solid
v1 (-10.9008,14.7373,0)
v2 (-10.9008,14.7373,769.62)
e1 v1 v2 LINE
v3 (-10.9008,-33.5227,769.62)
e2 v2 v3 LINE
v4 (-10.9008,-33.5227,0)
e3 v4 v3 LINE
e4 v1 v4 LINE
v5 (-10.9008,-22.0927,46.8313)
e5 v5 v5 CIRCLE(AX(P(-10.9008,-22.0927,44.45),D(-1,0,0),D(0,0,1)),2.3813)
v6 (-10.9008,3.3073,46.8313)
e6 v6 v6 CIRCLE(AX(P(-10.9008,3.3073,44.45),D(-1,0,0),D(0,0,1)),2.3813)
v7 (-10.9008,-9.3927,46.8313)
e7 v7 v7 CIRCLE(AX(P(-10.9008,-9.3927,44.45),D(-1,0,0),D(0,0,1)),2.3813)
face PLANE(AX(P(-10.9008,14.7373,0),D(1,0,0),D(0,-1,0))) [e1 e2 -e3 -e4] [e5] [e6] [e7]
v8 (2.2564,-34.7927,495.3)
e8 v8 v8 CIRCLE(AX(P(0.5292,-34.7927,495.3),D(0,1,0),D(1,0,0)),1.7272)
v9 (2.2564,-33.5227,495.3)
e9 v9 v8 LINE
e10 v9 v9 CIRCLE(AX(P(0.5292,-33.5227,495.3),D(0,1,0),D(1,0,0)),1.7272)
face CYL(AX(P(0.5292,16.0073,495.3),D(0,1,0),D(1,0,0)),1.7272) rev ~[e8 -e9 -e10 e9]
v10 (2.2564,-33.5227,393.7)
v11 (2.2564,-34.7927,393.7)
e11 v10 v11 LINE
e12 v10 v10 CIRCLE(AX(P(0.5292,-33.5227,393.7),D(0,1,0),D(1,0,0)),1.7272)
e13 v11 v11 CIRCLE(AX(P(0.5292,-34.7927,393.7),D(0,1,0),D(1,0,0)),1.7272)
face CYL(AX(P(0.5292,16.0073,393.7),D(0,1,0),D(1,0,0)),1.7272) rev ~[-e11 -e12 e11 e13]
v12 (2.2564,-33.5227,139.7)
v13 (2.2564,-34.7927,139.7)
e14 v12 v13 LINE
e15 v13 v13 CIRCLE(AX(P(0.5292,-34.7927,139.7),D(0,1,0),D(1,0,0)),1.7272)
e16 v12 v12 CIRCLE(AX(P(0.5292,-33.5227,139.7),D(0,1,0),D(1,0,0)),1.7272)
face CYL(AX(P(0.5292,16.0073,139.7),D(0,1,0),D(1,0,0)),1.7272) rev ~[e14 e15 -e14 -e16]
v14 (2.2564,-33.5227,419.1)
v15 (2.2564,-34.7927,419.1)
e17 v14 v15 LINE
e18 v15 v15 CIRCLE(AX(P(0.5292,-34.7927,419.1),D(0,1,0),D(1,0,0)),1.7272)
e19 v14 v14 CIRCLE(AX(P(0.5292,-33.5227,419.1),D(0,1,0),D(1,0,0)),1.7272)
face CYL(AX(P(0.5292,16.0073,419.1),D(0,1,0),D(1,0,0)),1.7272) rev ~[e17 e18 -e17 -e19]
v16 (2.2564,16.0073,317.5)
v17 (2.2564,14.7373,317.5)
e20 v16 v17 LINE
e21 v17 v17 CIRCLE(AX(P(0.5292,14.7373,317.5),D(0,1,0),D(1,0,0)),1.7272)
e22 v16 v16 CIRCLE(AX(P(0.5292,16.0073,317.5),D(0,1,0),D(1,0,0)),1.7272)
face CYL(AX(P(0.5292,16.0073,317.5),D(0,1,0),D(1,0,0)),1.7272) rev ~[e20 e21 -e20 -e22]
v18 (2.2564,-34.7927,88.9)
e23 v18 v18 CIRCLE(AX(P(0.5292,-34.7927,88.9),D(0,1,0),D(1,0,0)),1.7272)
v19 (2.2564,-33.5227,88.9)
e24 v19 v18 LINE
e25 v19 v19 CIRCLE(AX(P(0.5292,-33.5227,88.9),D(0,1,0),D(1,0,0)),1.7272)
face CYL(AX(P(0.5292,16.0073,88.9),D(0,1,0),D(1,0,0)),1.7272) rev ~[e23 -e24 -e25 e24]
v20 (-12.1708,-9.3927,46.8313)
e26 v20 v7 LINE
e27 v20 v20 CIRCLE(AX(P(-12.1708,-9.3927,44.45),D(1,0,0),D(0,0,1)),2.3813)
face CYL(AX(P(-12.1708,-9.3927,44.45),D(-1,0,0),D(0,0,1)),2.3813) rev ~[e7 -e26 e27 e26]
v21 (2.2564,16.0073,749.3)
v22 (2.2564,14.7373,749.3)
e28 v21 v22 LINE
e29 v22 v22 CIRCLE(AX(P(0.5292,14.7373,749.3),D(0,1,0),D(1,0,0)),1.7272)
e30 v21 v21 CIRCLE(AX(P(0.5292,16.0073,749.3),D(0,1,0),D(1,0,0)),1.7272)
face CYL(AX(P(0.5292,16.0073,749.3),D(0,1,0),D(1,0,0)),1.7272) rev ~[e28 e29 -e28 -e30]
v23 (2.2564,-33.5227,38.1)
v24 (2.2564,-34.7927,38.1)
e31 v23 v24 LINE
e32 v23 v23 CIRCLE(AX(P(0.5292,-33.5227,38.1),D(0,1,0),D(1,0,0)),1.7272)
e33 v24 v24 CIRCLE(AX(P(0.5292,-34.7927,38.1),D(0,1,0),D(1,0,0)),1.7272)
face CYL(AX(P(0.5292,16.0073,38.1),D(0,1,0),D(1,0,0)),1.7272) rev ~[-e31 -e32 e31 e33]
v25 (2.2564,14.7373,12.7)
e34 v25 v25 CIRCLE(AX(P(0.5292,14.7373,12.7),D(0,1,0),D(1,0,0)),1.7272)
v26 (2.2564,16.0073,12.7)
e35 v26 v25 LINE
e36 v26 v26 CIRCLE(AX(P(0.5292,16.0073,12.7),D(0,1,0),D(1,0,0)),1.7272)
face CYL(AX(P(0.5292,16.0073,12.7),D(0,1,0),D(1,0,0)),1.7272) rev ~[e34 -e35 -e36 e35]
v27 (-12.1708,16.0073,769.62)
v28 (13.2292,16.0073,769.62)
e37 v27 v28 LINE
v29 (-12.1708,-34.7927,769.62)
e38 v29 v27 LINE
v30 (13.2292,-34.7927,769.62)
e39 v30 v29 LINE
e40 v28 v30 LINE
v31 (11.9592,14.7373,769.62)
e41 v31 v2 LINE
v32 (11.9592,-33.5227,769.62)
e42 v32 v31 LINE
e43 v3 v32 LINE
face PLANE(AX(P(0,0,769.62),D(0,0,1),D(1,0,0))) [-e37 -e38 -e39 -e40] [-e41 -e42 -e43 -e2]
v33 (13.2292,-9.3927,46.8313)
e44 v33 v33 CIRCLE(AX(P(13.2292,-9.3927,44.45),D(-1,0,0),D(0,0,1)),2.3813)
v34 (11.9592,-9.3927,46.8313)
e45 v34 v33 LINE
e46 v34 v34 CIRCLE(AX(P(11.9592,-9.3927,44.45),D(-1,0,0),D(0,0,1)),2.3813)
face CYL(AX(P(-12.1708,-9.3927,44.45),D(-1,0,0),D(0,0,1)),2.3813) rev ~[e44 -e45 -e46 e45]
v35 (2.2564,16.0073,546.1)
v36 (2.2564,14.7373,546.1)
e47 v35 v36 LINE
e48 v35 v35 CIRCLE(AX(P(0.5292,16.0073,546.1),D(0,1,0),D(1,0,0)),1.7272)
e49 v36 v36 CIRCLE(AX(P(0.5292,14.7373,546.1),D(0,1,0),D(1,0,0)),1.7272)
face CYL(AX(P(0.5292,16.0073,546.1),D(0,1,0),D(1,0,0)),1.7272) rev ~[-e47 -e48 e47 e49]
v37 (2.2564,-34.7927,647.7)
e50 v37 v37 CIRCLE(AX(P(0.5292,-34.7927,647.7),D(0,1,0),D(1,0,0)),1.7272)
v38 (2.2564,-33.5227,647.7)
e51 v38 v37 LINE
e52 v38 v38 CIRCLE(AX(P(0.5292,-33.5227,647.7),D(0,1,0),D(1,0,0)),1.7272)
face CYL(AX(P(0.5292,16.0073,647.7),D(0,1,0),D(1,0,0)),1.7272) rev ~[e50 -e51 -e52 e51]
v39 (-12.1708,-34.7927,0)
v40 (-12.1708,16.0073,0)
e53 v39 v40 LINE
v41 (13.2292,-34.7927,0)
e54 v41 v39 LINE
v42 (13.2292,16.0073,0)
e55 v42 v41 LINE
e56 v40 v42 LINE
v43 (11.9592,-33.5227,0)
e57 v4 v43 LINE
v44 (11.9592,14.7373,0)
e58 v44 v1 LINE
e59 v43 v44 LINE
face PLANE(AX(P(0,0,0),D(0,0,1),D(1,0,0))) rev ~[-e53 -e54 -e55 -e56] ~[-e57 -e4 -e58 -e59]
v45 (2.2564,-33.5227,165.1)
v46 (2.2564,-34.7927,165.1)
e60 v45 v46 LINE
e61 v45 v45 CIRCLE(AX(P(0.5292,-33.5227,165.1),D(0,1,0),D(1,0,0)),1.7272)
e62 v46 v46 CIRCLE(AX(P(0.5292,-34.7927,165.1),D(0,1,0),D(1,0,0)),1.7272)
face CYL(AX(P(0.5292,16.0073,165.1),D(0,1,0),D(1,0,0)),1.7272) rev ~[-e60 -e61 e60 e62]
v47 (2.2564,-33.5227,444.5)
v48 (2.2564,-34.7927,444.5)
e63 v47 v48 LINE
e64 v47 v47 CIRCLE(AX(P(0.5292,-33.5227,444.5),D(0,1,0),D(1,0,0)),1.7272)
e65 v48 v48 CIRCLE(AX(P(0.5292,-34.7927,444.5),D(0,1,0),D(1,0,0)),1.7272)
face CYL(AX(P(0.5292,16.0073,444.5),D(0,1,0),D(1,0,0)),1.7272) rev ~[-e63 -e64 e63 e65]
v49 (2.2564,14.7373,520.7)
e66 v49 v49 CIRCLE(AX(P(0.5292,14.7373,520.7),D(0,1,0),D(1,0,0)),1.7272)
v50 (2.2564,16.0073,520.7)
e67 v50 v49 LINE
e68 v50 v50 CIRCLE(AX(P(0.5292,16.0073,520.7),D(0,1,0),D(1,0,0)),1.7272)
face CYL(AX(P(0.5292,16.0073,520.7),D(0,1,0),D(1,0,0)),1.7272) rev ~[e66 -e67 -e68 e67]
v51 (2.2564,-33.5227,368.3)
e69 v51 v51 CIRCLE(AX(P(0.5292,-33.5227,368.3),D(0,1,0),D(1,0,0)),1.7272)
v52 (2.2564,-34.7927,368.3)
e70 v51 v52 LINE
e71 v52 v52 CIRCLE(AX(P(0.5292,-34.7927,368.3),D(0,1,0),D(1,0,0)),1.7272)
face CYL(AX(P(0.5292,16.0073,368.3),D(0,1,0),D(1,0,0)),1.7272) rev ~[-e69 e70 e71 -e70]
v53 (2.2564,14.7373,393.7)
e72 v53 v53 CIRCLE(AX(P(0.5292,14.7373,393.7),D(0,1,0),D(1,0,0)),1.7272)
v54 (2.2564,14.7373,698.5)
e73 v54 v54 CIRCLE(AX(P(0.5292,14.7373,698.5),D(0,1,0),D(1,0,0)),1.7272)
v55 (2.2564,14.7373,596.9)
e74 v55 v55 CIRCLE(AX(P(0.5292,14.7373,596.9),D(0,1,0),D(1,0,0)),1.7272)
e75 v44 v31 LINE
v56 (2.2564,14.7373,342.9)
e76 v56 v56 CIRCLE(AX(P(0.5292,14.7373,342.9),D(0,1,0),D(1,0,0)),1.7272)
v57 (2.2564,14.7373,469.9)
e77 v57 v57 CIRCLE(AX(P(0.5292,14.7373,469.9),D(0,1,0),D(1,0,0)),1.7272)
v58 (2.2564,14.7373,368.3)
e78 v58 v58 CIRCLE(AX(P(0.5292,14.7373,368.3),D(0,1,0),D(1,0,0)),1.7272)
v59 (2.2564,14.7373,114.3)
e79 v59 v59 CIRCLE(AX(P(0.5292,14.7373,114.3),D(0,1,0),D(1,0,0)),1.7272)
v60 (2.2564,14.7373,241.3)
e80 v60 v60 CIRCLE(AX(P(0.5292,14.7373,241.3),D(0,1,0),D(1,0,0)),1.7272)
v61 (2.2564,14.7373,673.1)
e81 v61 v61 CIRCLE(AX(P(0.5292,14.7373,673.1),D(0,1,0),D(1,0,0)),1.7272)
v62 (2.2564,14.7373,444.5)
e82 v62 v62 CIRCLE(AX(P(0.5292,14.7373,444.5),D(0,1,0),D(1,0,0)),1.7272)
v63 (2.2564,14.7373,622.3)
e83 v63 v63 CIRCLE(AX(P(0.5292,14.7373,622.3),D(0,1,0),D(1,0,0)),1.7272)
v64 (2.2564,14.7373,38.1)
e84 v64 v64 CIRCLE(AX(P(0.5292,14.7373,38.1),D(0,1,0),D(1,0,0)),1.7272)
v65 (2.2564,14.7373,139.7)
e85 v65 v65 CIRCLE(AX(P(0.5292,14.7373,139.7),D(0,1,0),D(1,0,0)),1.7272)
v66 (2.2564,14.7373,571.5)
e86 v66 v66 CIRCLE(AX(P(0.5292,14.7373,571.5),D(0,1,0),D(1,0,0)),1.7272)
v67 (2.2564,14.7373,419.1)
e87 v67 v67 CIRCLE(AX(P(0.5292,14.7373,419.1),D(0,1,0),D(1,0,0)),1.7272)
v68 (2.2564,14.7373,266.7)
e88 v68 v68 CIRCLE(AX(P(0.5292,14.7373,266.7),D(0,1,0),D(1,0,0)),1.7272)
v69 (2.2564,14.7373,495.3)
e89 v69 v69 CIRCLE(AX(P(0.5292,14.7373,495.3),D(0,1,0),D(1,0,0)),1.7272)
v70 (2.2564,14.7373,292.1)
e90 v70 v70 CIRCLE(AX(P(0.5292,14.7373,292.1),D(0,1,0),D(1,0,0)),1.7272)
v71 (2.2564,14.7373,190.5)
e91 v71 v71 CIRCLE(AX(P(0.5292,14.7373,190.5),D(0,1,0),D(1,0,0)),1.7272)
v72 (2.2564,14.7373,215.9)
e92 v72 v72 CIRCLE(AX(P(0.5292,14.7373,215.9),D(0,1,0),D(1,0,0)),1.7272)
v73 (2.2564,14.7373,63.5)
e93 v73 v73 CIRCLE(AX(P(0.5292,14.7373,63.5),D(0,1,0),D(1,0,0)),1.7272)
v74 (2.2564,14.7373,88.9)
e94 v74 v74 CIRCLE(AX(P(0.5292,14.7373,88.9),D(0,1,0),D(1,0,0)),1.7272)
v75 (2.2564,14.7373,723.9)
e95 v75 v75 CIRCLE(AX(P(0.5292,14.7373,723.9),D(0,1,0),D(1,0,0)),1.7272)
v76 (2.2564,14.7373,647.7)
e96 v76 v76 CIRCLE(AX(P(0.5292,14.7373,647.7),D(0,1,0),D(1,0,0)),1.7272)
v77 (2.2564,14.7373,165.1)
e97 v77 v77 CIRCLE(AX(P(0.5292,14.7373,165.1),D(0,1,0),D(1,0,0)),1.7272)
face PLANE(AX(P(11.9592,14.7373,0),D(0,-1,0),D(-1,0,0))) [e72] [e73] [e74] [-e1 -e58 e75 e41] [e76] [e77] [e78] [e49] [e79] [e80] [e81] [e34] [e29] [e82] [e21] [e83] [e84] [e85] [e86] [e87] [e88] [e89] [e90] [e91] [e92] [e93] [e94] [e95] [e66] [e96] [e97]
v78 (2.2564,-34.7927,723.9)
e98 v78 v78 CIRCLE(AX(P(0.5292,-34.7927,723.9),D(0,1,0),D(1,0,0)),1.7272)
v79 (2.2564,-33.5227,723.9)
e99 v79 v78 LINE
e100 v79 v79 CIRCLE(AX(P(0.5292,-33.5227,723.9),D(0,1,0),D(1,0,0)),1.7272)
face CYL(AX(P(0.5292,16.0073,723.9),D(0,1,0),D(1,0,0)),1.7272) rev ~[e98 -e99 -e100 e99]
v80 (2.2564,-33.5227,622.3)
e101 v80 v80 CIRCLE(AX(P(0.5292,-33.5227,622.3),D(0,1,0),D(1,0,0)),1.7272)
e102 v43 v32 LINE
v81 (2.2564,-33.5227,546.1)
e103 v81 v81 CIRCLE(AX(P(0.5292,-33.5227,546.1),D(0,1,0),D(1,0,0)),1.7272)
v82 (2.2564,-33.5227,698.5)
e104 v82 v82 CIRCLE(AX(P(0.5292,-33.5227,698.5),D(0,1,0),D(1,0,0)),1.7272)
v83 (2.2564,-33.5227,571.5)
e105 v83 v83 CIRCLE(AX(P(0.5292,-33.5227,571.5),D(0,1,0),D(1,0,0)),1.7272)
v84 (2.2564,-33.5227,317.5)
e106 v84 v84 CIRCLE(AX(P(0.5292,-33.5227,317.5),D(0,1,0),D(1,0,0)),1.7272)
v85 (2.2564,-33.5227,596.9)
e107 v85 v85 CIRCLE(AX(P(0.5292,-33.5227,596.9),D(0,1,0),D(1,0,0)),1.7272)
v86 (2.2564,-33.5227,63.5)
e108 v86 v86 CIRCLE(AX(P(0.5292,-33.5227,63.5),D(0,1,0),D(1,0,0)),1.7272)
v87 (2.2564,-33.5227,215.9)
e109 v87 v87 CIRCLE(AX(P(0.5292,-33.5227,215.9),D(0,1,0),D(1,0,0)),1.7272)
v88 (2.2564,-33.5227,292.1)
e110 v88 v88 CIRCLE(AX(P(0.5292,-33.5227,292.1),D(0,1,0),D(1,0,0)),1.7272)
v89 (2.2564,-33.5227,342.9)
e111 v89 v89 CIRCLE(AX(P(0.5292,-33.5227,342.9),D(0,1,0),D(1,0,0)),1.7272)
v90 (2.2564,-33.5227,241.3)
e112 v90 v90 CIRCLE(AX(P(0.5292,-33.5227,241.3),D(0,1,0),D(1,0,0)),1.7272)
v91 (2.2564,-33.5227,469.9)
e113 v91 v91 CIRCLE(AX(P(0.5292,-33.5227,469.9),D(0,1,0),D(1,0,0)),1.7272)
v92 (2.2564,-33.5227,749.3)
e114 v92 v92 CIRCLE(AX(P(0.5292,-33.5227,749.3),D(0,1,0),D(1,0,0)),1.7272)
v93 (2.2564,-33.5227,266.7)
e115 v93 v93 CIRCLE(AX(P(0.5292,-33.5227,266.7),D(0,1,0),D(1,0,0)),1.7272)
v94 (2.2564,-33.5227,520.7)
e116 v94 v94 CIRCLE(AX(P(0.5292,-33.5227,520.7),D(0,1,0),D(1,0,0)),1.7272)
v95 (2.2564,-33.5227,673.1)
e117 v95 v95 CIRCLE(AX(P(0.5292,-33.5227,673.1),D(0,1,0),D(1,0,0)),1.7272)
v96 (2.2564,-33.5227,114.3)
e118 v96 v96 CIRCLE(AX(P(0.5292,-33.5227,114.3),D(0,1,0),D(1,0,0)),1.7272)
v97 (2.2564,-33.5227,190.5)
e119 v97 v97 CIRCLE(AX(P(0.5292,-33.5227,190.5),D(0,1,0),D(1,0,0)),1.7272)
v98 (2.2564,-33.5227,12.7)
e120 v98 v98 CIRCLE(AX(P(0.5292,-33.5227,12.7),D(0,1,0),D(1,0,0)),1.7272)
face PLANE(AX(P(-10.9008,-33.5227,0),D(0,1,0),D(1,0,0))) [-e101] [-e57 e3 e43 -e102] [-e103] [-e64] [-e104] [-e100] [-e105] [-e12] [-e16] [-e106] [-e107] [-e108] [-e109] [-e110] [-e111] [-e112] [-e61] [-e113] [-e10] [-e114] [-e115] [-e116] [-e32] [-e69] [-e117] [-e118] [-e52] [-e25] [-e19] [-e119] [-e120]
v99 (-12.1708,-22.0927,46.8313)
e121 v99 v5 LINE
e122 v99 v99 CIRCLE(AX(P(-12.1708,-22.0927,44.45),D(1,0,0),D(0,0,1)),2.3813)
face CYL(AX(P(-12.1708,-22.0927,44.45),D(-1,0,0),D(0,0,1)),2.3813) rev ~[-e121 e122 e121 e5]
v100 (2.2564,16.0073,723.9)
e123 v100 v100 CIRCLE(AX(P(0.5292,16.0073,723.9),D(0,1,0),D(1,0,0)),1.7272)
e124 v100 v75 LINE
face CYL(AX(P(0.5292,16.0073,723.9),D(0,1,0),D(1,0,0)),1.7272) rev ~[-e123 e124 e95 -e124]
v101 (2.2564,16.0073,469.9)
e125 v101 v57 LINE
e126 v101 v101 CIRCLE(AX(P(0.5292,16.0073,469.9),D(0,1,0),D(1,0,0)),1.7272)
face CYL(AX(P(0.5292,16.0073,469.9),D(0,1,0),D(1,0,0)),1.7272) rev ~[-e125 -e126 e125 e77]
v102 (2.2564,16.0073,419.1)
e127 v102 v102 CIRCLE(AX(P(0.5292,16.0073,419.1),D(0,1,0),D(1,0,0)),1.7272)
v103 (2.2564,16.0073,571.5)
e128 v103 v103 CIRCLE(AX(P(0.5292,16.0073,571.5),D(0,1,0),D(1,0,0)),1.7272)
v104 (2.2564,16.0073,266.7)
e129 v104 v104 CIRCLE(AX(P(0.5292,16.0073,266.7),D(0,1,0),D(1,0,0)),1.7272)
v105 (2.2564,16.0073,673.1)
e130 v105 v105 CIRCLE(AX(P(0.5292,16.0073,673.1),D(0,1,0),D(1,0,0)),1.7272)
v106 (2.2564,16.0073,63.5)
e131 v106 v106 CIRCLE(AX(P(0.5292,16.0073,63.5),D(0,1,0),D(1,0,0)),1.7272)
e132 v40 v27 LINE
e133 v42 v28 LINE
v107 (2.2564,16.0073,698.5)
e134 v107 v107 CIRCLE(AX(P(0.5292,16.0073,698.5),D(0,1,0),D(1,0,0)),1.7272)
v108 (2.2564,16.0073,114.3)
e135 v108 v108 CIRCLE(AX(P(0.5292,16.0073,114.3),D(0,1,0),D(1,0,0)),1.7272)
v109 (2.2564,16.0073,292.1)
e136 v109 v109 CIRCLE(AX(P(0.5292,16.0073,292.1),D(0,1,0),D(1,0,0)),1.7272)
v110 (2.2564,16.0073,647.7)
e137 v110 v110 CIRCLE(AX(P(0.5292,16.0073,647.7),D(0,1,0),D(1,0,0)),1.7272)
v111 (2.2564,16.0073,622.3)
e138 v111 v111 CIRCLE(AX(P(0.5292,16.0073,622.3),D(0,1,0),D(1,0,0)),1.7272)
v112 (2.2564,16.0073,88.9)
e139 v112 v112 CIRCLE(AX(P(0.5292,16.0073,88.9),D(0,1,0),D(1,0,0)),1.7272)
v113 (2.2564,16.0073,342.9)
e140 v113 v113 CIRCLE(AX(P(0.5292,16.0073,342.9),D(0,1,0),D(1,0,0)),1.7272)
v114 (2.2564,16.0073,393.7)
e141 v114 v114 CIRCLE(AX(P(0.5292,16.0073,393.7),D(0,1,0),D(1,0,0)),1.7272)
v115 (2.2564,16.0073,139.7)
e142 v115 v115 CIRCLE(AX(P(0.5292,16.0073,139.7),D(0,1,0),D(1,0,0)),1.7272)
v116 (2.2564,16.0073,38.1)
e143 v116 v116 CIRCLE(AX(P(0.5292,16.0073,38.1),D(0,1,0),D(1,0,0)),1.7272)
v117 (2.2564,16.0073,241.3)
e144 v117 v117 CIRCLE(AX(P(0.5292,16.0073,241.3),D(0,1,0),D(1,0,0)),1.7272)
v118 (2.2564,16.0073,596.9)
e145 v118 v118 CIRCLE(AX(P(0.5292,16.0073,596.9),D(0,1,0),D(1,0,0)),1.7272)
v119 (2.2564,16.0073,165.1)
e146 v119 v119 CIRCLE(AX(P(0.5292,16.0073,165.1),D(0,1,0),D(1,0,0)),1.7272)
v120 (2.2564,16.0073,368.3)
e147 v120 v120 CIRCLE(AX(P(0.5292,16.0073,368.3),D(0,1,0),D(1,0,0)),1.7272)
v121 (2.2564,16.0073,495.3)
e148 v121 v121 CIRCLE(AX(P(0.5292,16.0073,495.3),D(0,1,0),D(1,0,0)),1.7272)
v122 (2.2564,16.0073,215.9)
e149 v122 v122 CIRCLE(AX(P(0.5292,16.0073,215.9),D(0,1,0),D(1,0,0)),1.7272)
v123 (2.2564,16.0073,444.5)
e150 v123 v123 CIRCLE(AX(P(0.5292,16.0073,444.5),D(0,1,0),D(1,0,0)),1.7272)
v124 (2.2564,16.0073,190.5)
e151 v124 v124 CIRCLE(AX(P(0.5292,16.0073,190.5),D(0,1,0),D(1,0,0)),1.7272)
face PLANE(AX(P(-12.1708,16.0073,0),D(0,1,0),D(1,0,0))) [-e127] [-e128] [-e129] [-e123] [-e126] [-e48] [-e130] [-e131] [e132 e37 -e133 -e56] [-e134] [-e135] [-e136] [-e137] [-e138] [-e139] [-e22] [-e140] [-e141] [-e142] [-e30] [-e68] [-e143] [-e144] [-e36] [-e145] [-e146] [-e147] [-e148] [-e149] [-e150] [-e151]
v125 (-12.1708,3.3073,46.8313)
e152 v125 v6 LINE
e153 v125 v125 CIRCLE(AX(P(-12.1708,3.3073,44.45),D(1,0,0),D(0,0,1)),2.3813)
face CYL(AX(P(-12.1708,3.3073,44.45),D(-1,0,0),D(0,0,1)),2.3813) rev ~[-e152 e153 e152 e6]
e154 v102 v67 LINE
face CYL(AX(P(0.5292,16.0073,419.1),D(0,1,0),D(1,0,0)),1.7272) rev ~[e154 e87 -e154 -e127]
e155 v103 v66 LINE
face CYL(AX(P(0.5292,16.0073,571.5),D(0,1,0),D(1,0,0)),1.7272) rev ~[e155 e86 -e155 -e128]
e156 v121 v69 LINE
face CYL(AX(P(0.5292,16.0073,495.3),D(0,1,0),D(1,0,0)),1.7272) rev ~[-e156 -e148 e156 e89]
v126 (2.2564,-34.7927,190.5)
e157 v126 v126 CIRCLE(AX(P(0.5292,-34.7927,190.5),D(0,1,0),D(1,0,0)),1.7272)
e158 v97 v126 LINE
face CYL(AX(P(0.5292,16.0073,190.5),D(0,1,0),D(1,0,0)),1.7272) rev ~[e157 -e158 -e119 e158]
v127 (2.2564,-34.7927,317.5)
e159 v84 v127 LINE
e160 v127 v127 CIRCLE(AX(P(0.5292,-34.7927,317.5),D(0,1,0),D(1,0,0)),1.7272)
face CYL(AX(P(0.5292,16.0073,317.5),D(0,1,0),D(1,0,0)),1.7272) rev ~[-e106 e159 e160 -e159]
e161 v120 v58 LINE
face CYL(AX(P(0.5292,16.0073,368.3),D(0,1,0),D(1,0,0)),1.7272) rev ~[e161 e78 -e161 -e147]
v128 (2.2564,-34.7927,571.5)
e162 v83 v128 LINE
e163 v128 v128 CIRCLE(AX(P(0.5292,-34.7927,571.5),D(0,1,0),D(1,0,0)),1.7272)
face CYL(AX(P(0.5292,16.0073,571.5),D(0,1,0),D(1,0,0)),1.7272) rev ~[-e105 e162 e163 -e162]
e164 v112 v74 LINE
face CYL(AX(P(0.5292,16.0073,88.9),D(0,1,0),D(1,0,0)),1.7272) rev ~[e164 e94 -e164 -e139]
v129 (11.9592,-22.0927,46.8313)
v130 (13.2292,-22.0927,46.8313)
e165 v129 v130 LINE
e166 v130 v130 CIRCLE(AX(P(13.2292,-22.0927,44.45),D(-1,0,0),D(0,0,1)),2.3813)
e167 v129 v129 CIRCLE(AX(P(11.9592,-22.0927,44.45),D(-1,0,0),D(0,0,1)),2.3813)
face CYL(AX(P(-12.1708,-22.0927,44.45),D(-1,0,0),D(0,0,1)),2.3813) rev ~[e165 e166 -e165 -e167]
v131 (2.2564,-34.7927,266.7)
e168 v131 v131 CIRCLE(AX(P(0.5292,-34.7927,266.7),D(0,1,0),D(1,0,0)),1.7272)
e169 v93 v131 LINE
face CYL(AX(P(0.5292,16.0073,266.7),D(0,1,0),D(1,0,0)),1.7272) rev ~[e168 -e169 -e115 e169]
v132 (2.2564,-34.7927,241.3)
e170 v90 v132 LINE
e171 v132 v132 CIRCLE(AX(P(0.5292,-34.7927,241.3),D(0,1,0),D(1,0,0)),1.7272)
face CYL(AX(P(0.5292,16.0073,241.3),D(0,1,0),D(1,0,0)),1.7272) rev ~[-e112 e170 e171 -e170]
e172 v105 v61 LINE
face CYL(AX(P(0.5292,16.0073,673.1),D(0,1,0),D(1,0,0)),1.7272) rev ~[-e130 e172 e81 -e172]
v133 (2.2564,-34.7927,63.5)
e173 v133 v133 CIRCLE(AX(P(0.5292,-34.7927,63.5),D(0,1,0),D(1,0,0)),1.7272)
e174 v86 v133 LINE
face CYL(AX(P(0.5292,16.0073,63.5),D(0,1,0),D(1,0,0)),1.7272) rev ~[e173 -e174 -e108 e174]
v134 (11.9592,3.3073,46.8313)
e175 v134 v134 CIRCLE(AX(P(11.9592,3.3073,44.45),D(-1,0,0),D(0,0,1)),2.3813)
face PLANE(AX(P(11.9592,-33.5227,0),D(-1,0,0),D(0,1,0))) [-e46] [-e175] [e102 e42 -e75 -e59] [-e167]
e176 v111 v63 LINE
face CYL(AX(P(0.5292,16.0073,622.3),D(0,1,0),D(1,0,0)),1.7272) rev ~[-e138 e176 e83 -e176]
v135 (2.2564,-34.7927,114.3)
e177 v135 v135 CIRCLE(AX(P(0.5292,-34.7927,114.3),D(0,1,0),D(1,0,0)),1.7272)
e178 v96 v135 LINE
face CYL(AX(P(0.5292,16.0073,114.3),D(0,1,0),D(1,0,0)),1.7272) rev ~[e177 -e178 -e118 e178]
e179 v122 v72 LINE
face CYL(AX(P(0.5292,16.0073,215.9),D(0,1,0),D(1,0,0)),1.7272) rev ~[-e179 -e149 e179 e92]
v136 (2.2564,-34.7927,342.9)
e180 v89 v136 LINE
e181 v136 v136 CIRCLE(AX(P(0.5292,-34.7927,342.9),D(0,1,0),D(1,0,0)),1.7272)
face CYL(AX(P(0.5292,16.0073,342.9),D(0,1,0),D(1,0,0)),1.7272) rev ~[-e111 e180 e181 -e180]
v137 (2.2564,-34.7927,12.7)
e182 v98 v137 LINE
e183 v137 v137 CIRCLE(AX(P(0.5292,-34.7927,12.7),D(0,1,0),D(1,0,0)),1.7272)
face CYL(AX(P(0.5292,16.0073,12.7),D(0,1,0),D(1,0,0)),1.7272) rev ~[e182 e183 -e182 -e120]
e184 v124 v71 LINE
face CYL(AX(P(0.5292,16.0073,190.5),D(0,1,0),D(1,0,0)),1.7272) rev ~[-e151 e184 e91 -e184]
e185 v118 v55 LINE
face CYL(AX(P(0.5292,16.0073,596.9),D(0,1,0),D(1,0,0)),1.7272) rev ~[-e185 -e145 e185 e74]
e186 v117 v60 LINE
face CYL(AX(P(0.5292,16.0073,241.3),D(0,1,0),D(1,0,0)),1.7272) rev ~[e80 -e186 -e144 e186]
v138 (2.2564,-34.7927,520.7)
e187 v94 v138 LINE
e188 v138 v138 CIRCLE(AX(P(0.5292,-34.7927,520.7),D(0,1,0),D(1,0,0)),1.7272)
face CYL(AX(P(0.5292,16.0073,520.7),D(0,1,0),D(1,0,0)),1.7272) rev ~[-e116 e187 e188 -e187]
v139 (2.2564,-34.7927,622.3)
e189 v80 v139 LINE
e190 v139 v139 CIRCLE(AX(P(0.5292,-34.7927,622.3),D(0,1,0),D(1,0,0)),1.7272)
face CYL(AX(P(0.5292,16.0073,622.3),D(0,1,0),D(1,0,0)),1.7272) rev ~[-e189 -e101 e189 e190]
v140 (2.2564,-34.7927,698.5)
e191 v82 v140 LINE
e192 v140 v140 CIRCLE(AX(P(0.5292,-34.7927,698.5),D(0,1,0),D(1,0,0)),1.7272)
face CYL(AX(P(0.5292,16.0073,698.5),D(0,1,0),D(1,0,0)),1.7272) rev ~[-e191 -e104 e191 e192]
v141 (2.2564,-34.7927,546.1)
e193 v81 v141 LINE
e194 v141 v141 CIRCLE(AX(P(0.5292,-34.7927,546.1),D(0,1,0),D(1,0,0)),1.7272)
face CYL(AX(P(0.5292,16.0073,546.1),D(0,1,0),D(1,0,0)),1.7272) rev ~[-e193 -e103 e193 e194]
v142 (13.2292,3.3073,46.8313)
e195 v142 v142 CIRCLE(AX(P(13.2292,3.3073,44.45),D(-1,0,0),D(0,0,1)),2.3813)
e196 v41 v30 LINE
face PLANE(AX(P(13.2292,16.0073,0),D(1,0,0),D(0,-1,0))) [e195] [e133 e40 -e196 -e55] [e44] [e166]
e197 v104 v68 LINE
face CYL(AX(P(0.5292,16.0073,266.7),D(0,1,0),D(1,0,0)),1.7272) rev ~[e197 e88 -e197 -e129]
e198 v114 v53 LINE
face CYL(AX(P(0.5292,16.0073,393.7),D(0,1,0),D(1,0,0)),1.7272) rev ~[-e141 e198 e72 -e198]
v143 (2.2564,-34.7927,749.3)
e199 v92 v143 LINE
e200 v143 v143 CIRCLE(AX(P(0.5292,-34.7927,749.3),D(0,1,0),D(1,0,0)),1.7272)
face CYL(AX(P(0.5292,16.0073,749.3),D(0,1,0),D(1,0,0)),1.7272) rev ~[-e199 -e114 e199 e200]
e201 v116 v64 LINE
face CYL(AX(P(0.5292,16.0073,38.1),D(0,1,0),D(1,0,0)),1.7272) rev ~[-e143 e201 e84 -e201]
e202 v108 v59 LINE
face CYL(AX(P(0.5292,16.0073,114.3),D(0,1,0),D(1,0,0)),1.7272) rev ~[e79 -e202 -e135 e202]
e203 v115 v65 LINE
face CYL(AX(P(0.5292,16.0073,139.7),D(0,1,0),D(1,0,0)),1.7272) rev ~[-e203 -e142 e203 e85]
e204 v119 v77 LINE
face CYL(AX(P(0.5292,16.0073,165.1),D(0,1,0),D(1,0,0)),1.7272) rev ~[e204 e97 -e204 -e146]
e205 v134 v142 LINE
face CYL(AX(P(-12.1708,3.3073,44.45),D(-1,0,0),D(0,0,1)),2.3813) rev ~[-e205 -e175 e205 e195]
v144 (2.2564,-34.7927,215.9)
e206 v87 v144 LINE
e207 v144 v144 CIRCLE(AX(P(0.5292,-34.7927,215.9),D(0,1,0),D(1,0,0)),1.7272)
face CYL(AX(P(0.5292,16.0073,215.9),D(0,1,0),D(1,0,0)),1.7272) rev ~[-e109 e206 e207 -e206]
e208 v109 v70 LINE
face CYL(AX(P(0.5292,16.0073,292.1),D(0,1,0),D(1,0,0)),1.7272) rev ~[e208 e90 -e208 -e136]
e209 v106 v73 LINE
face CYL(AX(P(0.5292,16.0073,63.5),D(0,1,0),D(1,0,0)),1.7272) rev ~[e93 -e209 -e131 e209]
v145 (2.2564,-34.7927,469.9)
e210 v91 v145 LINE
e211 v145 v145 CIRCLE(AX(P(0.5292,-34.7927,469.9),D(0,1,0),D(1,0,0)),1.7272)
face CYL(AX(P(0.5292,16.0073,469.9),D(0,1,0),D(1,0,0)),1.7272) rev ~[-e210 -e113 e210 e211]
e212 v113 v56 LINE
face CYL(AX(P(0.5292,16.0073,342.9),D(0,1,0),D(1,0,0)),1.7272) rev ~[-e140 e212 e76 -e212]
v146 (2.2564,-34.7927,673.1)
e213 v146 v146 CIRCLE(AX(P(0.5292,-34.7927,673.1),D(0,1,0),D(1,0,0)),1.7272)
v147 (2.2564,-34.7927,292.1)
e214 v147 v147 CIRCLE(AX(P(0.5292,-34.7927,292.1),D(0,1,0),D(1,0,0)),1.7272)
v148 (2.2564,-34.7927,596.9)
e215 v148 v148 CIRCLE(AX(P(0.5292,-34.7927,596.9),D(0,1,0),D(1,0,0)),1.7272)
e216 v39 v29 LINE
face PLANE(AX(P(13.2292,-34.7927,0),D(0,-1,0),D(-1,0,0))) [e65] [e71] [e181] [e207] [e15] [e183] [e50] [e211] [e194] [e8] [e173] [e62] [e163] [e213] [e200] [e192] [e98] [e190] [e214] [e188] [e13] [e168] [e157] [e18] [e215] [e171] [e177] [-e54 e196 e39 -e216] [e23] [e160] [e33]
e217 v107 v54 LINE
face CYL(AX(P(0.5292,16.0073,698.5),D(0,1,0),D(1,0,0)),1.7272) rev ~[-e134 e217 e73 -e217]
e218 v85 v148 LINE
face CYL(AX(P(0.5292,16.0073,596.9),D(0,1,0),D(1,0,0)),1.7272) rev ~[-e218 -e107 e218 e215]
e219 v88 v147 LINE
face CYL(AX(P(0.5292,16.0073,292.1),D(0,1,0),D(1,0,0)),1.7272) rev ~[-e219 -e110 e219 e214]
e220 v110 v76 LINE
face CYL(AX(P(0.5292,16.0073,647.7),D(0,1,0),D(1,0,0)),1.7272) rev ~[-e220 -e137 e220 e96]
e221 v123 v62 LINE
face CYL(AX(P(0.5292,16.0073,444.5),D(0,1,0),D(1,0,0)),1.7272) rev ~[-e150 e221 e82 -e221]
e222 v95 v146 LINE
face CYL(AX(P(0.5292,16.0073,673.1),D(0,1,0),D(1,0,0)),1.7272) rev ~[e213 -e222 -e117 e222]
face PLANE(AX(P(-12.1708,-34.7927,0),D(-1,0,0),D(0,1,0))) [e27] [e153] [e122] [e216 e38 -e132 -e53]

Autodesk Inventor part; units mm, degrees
ref_plane "YZ Plane" through (0, 0, 0) normal (1, 0, 0) x (0, 1, 0)
ref_plane "XZ Plane" through (0, 0, 0) normal (0, 1, 0) x (-1, 0, 0)
ref_plane "XY Plane" through (0, 0, 0) normal (0, 0, 1) x (1, 0, 0)
sketch "Sketch1" plane through (0, 0, 0) normal (0, 0, 1) x (1, 0, 0)
  line L0 (-12.1708, 16.0073) -> (13.2292, 16.0073)
  line L1 (13.2292, 16.0073) -> (13.2292, -34.7927)
  line L2 (13.2292, -34.7927) -> (-12.1708, -34.7927)
  line L3 (-12.1708, -34.7927) -> (-12.1708, 16.0073)
  line L4 (11.9592, 14.7373) -> (-10.9008, 14.7373)
  line L5 (-10.9008, 14.7373) -> (-10.9008, -33.5227)
  line L6 (-10.9008, -33.5227) -> (11.9592, -33.5227)
  line L7 (11.9592, -33.5227) -> (11.9592, 14.7373)
  point P0 (0, 0)
  dimension "d0" = 25.4
  dimension "d1" = 50.8
  dimension "d2" = 1.27
extrude "Extrusion1" add sketch "Sketch1" along normal blind 769.62
sketch "Sketch2" plane through (-12.1708, 16.0073, 0) normal (0, 1, 0) x (1, 0, 0)
  circle A0 centre (12.7, -12.7) radius 1.7272
  line L0 (25.4, 0) -> (0, 0) projected
  line L1 (0, 0) -> (0, -769.62) projected
  point P0 (12.1708, 0)
  dimension "d5" = 3.4544
  dimension "d6" = 12.7
  dimension "d7" = 12.7
extrude "Extrusion2" cut sketch "Sketch2" against normal through all
pattern_linear "Rectangular Pattern1" count 77 spacing 25.4 along (0, 0, 1) of "Extrusion2"
sketch "Sketch5" plane through (-12.1708, -34.7927, 0) normal (-1, 0, 0) x (0, 0, 1)
  circle A0 centre (44.45, 25.4) radius 2.3813
  circle A1 centre (44.45, 38.1) radius 2.3813
  circle A2 centre (44.45, 12.7) radius 2.3813
  line L0 (44.45, 12.7) -> (44.45, 38.1)
  line L1 (0, 0) -> (769.62, 0) projected
  line L2 (0, 50.8) -> (0, 0) projected
  point P0 (0, 34.7927)
  dimension "d43" = 25.4
  dimension "d44" = 4.7625
  dimension "d45" = 25.4
  dimension "d46" = 44.45
extrude "Extrusion5" cut sketch "Sketch5" against normal through all
equation "\"d3\" = d13"
equation "\"d10\" = d14"
equation "\"d13\" = 769.62"
equation "\"d14\" = d13"
properties part number "Long bar 32.3 - VersaFrame"
